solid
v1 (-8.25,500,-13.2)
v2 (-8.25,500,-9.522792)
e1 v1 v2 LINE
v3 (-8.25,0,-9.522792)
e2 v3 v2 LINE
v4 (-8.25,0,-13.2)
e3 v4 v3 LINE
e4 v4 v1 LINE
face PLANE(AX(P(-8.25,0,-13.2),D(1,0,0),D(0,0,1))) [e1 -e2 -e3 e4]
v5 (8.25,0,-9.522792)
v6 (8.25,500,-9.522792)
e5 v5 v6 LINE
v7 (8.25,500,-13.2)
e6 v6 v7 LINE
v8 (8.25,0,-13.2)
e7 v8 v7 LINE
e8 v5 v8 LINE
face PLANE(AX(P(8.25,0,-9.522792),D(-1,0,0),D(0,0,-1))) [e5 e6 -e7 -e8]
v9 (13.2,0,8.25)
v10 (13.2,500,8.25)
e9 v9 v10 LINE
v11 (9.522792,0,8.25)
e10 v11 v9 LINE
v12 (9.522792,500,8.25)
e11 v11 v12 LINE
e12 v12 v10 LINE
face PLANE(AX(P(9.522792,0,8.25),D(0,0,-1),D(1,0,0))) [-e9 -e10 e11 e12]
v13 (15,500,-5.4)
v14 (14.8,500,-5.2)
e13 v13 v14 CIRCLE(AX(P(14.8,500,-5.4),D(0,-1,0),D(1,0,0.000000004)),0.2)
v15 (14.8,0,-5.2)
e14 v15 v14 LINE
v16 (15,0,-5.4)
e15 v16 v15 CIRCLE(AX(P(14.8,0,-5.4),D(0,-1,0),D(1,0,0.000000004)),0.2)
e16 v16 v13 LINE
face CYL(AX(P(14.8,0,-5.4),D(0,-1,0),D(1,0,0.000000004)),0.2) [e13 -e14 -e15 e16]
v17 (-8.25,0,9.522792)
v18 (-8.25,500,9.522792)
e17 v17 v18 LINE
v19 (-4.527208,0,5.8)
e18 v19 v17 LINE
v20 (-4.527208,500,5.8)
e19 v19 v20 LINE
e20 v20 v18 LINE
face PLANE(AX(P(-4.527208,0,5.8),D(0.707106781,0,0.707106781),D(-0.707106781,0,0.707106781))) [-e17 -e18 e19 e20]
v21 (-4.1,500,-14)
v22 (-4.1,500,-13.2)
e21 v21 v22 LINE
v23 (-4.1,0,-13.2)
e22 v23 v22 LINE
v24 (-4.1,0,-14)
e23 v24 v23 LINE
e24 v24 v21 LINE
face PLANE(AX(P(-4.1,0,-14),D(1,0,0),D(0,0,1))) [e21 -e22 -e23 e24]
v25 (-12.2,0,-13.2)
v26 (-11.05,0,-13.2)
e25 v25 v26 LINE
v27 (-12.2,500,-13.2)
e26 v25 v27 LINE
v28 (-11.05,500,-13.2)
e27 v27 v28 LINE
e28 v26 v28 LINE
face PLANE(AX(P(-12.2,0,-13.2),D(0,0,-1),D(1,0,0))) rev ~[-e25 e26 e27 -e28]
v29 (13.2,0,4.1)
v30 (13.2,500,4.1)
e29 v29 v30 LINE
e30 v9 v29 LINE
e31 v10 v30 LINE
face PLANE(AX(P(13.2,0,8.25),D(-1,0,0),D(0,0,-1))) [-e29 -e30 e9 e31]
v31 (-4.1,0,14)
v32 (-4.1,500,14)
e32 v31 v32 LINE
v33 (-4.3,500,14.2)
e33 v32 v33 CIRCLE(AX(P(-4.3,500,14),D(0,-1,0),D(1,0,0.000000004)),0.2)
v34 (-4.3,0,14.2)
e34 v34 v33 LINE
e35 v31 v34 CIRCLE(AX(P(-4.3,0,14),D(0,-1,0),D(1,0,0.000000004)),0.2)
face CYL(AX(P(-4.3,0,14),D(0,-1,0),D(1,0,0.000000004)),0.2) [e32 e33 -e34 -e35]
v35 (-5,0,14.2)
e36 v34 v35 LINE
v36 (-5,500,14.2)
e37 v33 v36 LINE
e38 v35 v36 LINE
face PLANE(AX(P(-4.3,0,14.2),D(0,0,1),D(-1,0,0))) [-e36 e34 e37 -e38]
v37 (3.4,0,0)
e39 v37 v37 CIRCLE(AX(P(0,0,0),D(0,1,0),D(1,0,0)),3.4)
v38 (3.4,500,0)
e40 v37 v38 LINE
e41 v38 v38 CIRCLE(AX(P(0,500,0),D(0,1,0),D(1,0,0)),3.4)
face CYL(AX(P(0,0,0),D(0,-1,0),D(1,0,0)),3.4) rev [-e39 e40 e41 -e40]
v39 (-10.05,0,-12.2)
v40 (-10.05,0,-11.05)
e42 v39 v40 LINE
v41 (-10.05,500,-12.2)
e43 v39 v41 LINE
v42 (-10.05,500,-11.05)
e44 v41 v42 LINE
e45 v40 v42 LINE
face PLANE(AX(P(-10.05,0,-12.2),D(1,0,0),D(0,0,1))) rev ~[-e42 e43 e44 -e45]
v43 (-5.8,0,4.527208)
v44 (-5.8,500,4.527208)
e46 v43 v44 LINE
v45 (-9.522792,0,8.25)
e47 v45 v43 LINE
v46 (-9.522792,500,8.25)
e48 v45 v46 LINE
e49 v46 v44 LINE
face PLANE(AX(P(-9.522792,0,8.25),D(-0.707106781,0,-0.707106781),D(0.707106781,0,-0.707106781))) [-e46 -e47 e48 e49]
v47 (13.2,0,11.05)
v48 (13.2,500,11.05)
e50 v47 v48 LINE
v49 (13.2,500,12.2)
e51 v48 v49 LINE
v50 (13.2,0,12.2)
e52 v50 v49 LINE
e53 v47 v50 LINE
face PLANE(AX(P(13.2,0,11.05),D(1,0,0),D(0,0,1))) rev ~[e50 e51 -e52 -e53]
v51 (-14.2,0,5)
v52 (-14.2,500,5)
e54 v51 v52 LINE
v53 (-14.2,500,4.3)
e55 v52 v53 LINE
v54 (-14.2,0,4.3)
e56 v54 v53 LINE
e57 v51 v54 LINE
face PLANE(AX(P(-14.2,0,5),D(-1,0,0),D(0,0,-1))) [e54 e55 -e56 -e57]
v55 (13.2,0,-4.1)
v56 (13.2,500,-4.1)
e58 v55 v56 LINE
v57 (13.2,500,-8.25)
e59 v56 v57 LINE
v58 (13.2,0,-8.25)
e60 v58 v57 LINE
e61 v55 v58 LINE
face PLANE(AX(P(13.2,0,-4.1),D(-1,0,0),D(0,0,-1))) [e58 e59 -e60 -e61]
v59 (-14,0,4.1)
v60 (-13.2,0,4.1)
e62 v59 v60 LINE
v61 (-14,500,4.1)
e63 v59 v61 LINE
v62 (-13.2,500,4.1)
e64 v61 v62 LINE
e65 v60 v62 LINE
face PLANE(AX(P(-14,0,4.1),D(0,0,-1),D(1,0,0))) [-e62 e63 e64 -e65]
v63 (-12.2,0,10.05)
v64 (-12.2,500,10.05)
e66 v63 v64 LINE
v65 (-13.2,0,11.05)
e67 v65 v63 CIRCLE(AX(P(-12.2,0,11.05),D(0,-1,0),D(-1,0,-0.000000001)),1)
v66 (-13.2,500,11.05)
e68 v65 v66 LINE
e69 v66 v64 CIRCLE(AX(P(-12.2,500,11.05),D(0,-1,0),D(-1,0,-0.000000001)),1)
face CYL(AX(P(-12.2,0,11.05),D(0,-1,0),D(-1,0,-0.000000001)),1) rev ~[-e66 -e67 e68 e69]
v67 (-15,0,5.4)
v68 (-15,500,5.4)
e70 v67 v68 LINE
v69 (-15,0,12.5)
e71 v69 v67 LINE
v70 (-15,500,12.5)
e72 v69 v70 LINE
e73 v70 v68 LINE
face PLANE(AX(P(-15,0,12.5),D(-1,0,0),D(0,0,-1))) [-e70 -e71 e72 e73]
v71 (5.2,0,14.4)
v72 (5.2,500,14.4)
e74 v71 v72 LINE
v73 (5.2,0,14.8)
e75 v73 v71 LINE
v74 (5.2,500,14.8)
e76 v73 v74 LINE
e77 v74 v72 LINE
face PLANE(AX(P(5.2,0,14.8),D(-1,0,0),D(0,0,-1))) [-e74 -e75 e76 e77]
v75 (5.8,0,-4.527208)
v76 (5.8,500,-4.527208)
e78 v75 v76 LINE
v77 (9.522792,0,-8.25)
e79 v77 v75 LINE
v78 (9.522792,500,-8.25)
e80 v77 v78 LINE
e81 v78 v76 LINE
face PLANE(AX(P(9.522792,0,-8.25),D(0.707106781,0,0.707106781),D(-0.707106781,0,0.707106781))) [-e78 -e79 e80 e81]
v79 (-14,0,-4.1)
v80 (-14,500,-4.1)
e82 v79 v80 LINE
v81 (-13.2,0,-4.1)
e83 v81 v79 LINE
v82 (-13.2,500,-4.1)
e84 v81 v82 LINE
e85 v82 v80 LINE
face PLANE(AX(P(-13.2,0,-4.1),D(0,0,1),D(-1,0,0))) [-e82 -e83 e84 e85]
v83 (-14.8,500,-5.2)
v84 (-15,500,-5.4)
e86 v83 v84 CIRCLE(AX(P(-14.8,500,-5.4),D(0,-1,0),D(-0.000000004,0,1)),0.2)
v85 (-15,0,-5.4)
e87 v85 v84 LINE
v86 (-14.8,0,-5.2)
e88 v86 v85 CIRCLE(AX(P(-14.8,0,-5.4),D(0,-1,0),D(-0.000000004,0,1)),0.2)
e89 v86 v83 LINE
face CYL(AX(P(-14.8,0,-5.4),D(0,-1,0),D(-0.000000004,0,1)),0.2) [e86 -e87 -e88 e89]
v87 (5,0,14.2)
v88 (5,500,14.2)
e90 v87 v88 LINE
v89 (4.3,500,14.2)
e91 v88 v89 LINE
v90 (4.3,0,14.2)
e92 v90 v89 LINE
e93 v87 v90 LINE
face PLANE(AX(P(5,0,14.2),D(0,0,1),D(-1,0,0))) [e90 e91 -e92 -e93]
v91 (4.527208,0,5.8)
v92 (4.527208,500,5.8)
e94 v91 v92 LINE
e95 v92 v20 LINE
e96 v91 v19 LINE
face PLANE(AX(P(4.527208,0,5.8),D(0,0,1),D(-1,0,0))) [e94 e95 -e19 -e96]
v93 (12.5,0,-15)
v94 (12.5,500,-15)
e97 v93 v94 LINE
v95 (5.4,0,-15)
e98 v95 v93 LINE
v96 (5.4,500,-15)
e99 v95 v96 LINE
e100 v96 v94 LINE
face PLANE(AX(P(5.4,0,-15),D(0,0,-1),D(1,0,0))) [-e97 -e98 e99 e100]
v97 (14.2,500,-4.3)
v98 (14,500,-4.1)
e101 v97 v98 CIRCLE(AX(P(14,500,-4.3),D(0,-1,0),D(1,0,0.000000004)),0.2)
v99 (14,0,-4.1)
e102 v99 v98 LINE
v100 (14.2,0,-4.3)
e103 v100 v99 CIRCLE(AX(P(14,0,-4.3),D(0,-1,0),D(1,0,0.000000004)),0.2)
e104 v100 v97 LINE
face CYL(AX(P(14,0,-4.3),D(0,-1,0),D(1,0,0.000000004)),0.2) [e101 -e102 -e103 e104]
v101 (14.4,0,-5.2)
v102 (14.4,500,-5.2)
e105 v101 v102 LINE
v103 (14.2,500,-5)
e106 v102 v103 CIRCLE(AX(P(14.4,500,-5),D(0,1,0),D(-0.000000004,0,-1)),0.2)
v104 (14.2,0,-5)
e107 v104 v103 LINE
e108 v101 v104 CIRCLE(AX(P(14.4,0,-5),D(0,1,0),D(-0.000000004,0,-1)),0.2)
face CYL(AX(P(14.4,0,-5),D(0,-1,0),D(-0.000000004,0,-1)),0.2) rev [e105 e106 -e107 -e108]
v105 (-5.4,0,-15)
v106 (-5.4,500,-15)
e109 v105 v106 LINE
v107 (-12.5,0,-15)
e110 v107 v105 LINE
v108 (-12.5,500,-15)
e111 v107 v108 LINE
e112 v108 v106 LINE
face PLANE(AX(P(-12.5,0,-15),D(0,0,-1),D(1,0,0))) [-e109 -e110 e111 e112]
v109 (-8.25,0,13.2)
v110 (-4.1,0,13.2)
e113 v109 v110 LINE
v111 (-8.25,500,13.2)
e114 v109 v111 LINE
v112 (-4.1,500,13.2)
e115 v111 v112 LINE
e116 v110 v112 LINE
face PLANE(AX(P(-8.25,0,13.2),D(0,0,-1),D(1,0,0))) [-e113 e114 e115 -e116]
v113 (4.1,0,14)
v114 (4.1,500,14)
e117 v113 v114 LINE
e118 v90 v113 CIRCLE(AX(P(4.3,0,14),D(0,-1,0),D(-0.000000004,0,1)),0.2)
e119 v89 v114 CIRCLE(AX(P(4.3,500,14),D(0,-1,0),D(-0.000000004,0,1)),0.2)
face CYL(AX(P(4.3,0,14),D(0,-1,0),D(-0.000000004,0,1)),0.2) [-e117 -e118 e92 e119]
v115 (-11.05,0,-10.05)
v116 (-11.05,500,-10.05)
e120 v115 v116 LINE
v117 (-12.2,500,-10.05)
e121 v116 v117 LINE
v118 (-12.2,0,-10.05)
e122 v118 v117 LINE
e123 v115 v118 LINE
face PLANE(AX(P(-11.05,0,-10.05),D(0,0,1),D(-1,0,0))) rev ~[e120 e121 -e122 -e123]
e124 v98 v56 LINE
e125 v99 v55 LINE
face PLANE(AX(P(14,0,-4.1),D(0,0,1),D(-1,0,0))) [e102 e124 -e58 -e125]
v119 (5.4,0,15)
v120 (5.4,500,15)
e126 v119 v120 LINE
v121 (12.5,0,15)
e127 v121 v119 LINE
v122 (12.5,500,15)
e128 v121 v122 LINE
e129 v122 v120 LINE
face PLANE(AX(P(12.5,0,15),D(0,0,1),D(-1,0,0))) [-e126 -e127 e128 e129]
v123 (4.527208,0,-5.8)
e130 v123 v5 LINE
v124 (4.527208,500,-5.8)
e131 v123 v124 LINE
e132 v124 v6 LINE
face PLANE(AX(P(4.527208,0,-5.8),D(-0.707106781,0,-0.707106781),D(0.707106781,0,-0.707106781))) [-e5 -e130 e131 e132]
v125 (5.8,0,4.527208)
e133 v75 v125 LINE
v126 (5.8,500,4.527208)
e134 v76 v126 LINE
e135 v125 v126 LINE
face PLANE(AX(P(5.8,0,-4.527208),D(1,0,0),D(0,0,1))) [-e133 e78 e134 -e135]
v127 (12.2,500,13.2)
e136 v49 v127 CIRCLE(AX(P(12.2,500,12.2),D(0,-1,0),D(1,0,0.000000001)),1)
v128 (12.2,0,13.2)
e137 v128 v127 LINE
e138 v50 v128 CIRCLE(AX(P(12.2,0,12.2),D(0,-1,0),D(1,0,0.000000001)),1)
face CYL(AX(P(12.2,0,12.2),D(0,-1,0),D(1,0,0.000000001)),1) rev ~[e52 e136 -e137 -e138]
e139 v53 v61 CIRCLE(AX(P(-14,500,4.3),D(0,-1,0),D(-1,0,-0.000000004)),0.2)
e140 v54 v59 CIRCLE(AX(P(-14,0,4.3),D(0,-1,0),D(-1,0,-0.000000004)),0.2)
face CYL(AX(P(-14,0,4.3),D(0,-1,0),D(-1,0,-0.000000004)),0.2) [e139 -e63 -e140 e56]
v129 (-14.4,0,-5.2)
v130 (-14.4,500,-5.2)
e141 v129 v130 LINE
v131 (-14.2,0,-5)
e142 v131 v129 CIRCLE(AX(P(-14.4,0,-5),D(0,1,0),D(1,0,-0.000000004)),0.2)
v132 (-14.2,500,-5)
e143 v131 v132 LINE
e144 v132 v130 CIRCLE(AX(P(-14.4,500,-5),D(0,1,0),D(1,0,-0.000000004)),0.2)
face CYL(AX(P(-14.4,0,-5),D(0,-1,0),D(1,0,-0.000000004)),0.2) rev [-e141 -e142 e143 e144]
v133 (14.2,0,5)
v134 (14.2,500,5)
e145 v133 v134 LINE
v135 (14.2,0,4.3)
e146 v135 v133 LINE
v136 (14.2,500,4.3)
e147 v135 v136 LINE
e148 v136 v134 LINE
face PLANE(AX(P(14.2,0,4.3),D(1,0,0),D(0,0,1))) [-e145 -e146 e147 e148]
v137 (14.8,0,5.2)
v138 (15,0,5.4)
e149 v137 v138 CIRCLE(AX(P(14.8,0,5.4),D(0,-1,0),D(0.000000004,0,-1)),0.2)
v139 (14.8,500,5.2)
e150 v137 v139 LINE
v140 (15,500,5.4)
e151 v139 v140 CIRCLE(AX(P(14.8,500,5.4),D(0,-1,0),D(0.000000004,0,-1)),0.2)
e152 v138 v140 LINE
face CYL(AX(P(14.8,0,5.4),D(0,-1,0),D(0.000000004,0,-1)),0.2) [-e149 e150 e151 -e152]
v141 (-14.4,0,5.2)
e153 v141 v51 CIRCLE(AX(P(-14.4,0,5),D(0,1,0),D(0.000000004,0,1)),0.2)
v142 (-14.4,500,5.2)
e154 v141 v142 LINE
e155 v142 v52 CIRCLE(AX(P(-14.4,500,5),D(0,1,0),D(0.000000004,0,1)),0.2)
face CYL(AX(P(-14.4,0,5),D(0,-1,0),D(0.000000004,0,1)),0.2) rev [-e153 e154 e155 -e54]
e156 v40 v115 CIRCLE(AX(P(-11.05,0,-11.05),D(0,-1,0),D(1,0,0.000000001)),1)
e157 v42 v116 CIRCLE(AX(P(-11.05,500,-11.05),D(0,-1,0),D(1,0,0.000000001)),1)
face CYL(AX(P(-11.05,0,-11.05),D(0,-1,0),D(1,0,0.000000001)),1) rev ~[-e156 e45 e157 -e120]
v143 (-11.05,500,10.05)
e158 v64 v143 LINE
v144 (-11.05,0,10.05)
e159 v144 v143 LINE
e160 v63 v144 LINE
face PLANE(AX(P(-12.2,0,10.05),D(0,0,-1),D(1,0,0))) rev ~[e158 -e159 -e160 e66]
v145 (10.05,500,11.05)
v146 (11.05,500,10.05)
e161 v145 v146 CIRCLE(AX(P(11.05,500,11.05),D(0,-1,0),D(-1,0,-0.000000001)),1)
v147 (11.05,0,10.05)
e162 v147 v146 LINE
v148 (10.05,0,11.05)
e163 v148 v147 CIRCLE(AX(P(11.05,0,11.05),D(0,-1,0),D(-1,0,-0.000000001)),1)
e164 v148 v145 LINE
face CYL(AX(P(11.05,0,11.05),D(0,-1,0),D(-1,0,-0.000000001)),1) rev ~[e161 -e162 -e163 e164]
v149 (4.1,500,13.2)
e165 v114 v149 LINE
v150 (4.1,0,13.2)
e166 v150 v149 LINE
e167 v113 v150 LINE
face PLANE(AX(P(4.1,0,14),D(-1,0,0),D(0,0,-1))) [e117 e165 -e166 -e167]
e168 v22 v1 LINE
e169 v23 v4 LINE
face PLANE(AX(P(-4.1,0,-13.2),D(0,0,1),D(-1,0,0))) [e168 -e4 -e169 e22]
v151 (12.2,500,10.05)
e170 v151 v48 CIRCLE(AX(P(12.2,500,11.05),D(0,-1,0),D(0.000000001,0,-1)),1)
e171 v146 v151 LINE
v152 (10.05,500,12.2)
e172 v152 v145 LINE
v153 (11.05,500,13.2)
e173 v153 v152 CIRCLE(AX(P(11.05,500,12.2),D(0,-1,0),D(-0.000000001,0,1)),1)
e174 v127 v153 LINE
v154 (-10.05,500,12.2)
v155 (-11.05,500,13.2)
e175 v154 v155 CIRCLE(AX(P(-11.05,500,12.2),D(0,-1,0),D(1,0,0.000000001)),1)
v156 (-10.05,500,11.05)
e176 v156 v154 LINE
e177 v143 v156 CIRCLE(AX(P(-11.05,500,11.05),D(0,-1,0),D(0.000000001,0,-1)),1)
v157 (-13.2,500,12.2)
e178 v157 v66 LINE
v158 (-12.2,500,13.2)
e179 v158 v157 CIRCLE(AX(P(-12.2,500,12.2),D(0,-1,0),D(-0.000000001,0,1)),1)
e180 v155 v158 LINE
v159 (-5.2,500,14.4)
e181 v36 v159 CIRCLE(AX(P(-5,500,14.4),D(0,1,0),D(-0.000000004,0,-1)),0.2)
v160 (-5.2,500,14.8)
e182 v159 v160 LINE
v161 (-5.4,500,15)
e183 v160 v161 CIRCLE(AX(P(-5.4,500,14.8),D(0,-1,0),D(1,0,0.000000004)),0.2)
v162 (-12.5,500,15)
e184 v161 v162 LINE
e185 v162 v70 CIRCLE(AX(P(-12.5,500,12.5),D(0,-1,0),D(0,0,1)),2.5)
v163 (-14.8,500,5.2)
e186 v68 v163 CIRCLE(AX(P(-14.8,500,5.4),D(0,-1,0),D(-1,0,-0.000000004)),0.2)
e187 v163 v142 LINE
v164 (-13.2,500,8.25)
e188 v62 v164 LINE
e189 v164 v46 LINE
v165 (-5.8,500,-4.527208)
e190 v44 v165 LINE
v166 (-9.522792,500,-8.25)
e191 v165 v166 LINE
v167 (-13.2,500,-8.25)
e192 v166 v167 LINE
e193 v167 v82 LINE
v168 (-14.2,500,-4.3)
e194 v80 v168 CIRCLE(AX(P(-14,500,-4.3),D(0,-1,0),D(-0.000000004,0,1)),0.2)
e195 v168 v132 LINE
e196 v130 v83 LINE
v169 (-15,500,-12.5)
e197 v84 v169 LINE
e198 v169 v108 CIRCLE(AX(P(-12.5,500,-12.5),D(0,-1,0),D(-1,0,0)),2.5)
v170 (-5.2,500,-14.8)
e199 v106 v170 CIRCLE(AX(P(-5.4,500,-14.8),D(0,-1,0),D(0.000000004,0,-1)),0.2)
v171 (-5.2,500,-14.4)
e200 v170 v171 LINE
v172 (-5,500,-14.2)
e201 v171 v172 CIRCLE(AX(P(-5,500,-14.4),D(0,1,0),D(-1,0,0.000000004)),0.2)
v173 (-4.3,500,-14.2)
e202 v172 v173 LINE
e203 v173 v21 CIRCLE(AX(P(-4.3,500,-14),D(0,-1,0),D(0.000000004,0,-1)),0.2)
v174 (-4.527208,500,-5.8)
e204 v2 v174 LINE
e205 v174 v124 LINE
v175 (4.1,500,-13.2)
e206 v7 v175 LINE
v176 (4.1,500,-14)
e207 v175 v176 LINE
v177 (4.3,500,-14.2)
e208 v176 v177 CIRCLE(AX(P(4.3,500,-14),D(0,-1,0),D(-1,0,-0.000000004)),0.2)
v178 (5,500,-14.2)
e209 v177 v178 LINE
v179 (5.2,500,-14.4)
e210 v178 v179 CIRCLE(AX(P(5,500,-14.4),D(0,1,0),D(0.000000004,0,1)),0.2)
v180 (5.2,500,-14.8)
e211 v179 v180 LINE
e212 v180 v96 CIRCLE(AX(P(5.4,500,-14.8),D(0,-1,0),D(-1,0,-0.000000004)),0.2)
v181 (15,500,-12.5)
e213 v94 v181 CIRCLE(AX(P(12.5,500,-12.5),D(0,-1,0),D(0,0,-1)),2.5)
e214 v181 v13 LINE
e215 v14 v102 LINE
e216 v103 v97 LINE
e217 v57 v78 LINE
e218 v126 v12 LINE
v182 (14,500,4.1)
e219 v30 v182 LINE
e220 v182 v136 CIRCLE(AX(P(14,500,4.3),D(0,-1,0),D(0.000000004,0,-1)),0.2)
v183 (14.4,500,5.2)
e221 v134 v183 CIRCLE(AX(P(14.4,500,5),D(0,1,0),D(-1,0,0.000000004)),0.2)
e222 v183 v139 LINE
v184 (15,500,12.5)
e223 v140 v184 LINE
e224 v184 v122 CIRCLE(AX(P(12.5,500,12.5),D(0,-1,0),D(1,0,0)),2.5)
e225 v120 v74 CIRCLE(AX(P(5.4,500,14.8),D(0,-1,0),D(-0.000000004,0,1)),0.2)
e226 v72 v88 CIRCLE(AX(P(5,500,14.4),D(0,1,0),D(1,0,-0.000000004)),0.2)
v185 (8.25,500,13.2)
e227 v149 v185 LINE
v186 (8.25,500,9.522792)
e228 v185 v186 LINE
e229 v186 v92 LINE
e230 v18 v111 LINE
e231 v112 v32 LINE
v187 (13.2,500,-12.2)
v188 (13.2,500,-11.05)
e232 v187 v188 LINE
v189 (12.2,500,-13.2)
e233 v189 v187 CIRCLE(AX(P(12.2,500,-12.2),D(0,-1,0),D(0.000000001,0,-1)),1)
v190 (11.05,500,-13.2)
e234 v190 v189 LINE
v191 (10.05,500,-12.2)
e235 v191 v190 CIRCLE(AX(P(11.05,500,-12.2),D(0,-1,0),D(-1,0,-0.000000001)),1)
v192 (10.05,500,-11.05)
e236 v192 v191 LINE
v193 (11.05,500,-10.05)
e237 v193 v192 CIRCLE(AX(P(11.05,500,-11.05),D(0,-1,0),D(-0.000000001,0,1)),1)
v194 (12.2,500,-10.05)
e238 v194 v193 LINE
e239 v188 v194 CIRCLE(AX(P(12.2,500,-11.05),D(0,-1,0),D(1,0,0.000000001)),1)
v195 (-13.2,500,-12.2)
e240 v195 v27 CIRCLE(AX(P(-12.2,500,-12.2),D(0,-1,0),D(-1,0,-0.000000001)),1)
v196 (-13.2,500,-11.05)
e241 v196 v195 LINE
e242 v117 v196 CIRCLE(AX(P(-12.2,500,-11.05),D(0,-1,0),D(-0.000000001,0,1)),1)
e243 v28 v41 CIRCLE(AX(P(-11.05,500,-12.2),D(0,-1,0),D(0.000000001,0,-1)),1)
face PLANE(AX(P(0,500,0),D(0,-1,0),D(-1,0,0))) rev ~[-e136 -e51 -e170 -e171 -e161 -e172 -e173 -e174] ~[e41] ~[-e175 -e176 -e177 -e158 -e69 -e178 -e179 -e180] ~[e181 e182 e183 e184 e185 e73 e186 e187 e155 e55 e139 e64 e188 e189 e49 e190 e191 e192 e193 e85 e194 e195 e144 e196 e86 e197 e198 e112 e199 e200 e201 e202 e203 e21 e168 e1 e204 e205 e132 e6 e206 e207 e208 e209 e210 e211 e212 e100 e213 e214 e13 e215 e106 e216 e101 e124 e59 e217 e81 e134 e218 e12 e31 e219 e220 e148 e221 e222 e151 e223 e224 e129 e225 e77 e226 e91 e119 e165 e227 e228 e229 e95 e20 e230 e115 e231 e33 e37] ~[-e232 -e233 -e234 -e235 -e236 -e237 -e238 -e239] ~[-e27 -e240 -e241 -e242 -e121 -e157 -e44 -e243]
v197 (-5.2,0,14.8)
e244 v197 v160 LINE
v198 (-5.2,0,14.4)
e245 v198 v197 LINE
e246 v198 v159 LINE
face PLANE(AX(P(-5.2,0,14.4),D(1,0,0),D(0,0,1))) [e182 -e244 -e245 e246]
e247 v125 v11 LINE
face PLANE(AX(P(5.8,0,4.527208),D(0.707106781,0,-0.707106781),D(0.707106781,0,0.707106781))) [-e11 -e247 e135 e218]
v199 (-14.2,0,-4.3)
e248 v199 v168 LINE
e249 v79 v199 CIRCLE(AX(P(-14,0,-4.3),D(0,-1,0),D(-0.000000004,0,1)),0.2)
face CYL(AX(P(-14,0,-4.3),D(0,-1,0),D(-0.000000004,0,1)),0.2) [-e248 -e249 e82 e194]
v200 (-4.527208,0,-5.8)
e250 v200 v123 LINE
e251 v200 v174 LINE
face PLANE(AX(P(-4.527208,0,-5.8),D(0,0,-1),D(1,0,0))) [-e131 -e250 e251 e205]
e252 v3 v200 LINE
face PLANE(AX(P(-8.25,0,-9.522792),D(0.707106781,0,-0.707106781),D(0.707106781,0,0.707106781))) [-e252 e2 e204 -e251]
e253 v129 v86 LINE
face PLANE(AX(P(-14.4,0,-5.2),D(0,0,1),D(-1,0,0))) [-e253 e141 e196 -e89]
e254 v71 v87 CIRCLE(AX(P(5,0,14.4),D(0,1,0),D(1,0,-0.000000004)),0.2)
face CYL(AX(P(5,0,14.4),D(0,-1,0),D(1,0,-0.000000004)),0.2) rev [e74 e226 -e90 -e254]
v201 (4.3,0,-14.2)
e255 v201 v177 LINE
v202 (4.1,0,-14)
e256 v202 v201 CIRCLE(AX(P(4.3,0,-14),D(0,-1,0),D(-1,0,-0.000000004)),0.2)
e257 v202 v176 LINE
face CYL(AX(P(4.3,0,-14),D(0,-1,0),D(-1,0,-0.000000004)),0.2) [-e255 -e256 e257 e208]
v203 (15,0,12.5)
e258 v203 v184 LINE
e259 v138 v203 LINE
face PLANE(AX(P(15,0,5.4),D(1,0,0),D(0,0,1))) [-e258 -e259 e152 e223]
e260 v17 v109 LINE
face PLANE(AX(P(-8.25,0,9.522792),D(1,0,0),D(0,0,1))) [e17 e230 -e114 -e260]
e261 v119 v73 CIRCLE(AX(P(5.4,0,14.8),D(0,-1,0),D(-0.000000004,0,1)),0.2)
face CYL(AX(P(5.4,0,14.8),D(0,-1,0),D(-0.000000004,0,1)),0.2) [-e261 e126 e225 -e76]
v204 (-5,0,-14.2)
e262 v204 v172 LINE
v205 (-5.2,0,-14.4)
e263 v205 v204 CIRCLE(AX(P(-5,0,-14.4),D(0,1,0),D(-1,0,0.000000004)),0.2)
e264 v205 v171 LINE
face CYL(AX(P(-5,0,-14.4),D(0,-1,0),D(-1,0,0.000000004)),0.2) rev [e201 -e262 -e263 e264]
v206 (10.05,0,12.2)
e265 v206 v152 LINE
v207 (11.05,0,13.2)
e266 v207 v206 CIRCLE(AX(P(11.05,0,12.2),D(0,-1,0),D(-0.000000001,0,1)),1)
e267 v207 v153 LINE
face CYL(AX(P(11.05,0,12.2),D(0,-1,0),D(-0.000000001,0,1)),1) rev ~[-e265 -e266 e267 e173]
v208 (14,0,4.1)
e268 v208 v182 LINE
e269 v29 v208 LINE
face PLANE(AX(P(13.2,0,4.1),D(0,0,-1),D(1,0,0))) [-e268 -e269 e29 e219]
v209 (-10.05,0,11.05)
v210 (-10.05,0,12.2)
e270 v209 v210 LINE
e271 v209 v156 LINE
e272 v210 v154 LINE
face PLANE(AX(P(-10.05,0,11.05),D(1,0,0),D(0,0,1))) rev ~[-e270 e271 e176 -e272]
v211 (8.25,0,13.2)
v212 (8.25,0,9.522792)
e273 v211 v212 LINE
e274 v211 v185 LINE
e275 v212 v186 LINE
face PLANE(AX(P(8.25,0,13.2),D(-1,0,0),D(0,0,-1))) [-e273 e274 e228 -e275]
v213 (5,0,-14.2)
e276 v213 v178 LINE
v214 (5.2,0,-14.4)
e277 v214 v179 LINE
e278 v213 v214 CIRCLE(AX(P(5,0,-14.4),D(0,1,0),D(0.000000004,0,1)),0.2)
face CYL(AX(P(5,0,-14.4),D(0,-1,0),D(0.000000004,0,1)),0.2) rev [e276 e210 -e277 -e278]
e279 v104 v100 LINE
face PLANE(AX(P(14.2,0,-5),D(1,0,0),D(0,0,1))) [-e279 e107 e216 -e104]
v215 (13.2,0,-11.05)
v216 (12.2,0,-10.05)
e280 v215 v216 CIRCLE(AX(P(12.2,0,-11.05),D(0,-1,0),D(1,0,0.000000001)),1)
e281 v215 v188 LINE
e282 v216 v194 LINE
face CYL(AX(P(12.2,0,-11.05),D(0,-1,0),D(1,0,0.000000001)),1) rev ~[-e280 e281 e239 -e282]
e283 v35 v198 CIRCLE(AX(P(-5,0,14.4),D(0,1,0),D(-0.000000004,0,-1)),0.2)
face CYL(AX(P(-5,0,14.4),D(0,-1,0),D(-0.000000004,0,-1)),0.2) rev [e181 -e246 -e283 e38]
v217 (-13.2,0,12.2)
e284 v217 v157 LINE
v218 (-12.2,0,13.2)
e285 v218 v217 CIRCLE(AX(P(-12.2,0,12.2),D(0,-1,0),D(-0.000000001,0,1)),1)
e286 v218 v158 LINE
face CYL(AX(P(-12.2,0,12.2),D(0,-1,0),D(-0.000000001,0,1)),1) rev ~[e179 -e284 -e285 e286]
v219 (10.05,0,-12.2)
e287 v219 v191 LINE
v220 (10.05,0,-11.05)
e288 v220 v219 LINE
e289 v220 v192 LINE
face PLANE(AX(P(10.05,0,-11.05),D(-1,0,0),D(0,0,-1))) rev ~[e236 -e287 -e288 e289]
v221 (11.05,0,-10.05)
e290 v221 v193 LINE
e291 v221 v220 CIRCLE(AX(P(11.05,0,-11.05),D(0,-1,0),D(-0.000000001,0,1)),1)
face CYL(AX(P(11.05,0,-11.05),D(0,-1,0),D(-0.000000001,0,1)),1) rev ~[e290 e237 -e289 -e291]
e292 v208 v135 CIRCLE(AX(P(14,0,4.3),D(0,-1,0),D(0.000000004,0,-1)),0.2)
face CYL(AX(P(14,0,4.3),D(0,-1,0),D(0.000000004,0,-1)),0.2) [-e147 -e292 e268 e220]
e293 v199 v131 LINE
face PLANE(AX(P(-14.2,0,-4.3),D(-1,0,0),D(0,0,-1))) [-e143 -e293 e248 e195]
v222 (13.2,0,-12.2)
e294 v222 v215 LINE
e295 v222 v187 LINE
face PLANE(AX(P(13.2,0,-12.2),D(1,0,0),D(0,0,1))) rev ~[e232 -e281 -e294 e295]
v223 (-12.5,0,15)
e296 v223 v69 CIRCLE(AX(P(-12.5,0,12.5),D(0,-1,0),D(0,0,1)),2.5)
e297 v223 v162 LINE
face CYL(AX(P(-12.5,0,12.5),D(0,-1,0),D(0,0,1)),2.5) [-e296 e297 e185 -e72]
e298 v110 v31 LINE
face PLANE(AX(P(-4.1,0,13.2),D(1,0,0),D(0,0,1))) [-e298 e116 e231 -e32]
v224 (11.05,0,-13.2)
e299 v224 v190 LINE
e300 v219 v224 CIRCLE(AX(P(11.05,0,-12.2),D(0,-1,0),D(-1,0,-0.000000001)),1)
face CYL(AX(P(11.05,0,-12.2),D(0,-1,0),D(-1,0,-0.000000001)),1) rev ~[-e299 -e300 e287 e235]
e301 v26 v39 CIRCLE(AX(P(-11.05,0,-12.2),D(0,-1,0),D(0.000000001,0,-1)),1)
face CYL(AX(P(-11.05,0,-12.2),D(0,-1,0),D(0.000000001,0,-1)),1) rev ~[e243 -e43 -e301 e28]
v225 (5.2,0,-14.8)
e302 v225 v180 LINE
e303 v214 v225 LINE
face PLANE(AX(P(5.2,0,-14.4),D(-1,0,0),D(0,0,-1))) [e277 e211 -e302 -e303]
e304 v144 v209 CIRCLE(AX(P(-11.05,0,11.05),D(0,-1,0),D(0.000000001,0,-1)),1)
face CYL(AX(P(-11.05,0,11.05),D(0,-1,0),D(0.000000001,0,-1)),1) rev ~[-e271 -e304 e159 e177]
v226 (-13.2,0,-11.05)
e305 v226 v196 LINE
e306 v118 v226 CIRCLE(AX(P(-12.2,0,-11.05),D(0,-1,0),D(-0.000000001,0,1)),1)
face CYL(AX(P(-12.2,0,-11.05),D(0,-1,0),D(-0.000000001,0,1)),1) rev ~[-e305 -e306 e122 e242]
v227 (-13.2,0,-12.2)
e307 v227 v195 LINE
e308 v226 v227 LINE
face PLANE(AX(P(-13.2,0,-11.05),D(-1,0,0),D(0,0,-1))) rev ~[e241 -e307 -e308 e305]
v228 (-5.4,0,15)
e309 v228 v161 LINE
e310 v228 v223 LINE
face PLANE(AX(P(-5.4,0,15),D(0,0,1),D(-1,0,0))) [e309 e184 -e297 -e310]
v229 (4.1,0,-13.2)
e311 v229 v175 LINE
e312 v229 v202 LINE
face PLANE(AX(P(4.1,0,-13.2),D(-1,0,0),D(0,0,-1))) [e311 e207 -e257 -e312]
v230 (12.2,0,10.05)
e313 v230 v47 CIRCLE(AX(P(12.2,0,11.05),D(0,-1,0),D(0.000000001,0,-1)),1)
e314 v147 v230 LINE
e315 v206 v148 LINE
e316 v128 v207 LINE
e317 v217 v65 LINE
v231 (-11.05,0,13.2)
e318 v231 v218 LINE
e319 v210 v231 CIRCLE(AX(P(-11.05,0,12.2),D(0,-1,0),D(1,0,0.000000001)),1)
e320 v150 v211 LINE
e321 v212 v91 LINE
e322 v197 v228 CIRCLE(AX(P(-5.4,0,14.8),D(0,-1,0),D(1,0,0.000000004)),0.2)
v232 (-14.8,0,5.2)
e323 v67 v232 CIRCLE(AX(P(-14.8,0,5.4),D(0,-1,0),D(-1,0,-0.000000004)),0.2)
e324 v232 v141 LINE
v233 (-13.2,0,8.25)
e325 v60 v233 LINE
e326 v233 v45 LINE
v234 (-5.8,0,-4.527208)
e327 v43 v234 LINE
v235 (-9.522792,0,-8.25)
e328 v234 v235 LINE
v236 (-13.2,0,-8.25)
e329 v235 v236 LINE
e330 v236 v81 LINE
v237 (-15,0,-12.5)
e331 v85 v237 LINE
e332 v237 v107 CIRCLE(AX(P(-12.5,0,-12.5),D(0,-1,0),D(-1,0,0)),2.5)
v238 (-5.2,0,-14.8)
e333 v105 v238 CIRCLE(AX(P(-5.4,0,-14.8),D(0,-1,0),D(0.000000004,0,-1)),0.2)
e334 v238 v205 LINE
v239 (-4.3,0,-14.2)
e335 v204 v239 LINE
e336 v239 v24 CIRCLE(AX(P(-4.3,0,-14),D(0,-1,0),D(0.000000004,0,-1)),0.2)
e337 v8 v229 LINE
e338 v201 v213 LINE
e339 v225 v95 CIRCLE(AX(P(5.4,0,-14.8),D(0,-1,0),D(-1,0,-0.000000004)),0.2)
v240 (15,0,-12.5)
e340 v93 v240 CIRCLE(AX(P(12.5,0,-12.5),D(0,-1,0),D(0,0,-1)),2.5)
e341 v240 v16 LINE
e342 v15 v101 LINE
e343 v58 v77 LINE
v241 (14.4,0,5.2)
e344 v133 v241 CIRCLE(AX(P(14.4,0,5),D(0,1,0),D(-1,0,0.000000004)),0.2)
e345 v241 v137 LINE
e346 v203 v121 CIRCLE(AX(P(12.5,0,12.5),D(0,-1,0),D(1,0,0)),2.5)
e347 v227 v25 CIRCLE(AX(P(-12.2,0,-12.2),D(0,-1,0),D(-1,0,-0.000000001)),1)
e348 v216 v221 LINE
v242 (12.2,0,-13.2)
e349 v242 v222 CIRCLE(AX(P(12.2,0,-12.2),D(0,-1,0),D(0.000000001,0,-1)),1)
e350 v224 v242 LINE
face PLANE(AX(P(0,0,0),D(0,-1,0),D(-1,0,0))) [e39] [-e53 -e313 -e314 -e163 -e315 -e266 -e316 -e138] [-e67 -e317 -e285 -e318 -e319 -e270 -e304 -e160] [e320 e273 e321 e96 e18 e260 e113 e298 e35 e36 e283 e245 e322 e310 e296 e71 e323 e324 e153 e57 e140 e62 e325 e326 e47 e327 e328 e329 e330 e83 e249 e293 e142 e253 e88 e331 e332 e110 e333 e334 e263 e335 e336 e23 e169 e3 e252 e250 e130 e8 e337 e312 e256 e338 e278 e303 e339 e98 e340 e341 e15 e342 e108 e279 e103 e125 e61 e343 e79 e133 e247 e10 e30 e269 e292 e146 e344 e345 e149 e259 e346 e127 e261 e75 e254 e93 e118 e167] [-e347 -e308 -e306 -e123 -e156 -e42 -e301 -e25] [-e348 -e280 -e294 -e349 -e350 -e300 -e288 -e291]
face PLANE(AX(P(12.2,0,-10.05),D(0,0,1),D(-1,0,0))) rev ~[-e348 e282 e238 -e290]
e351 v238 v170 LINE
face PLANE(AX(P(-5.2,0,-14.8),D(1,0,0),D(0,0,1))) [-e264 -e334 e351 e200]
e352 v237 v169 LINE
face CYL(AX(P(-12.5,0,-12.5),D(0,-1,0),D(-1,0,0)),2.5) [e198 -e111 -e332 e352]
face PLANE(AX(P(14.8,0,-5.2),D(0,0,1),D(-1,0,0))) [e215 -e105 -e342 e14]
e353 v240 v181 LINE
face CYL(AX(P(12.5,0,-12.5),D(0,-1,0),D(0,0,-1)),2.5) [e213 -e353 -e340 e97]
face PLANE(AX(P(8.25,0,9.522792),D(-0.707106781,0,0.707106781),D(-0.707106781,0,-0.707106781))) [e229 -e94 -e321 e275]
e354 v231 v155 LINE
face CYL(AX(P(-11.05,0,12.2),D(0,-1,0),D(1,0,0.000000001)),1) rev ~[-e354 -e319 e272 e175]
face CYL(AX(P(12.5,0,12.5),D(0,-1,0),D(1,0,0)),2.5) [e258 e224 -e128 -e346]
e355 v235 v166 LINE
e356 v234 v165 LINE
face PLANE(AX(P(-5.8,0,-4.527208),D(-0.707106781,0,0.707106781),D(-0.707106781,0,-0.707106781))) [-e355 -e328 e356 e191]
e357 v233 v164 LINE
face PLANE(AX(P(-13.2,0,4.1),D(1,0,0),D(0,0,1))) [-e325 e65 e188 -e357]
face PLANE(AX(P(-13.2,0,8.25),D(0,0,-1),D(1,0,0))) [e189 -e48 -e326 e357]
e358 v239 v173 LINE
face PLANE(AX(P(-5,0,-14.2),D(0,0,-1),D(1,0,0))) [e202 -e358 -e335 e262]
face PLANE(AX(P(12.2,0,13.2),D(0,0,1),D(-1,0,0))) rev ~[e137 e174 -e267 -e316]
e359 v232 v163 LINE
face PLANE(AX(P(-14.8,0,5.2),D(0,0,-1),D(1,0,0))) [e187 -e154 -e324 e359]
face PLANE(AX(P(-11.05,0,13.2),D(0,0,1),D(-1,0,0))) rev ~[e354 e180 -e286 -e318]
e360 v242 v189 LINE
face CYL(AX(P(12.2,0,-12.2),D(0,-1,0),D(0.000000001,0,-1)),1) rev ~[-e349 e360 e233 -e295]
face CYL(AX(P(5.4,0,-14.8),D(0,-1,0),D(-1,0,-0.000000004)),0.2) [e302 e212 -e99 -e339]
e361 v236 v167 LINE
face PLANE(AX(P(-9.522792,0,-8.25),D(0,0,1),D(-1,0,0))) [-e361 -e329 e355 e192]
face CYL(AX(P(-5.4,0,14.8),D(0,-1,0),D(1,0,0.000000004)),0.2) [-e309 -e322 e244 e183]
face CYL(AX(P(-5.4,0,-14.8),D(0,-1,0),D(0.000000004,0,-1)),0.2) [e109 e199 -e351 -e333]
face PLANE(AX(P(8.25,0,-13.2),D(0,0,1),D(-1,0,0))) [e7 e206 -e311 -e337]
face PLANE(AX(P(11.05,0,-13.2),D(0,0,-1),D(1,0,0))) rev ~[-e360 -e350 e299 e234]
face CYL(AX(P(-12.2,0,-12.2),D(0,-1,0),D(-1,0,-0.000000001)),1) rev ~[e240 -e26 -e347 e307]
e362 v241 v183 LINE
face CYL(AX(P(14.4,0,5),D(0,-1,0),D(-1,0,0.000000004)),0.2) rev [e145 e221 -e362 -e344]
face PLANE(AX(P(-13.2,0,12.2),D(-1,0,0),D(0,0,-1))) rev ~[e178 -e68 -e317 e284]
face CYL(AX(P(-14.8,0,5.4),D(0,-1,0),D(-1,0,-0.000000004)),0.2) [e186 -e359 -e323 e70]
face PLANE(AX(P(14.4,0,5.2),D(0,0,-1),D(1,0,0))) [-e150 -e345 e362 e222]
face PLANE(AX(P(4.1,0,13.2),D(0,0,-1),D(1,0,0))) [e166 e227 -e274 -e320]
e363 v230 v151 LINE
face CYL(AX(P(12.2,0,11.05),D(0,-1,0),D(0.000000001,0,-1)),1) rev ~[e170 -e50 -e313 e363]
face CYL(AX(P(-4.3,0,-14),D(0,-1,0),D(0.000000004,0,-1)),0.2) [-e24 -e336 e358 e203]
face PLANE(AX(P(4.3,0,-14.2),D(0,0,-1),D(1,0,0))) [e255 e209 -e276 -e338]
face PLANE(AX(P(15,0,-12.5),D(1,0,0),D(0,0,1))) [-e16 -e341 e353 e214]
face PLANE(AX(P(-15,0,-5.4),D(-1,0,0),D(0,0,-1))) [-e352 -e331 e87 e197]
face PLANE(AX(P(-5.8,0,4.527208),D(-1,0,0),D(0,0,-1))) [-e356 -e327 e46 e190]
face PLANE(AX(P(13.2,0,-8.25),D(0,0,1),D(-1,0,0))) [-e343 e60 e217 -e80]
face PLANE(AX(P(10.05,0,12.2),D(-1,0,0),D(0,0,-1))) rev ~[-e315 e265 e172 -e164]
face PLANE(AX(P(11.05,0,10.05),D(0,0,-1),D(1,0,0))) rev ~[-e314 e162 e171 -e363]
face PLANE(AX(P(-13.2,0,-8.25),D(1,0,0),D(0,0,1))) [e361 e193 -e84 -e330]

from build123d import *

# Parameters (mm, degrees)
SKETCH_3_R      = 3.4
EXTRUDE_1_DEPTH = 500


with BuildPart() as part:
    # 草图3 → 凸台-拉伸1 (new body)
    with BuildSketch(Plane(origin=(0, 0, 0), x_dir=(1, 0, 0), z_dir=(0, 1, 0))):
        with BuildLine():
            Line((-15, -12.5), (-15, -5.4))
            ThreePointArc((-15, -5.4), (-14.941421356, -5.258578644), (-14.8, -5.2))
            Line((-14.8, -5.2), (-14.4, -5.2))
            ThreePointArc((-14.4, -5.2), (-14.258578644, -5.141421356), (-14.2, -5))
            Line((-14.2, -5), (-14.2, -4.3))
            ThreePointArc((-14.2, -4.3), (-14.141421356, -4.158578644), (-14, -4.1))
            Line((-14, -4.1), (-13.2, -4.1))
            Line((-13.2, -4.1), (-13.2, -8.25))
            Line((-13.2, -8.25), (-9.522792206, -8.25))
            Line((-9.522792206, -8.25), (-5.8, -4.527207794))
            Line((-5.8, -4.527207794), (-5.8, 4.527207794))
            Line((-5.8, 4.527207794), (-9.522792206, 8.25))
            Line((-9.522792206, 8.25), (-13.2, 8.25))
            Line((-13.2, 8.25), (-13.2, 4.1))
            Line((-13.2, 4.1), (-14, 4.1))
            ThreePointArc((-14, 4.1), (-14.141421356, 4.158578644), (-14.2, 4.3))
            Line((-14.2, 4.3), (-14.2, 5))
            ThreePointArc((-14.2, 5), (-14.258578644, 5.141421356), (-14.4, 5.2))
            Line((-14.4, 5.2), (-14.8, 5.2))
            ThreePointArc((-14.8, 5.2), (-14.941421356, 5.258578644), (-15, 5.4))
            Line((-15, 5.4), (-15, 12.5))
            ThreePointArc((-15, 12.5), (-14.267766953, 14.267766953), (-12.5, 15))
            Line((-12.5, 15), (-5.4, 15))
            ThreePointArc((-5.4, 15), (-5.258578644, 14.941421356), (-5.2, 14.8))
            Line((-5.2, 14.8), (-5.2, 14.4))
            ThreePointArc((-5.2, 14.4), (-5.141421356, 14.258578644), (-5, 14.2))
            Line((-5, 14.2), (-4.3, 14.2))
            ThreePointArc((-4.3, 14.2), (-4.158578644, 14.141421356), (-4.1, 14))
            Line((-4.1, 14), (-4.1, 13.2))
            Line((-4.1, 13.2), (-8.25, 13.2))
            Line((-8.25, 13.2), (-8.25, 9.522792206))
            Line((-8.25, 9.522792206), (-4.527207794, 5.8))
            Line((-4.527207794, 5.8), (4.527207794, 5.8))
            Line((4.527207794, 5.8), (8.25, 9.522792206))
            Line((8.25, 9.522792206), (8.25, 13.2))
            Line((8.25, 13.2), (4.1, 13.2))
            Line((4.1, 13.2), (4.1, 14))
            ThreePointArc((4.1, 14), (4.158578644, 14.141421356), (4.3, 14.2))
            Line((4.3, 14.2), (5, 14.2))
            ThreePointArc((5, 14.2), (5.141421356, 14.258578644), (5.2, 14.4))
            Line((5.2, 14.4), (5.2, 14.8))
            ThreePointArc((5.2, 14.8), (5.258578644, 14.941421356), (5.4, 15))
            Line((5.4, 15), (12.5, 15))
            ThreePointArc((12.5, 15), (14.267766953, 14.267766953), (15, 12.5))
            Line((15, 12.5), (15, 5.4))
            ThreePointArc((15, 5.4), (14.941421356, 5.258578644), (14.8, 5.2))
            Line((14.8, 5.2), (14.4, 5.2))
            ThreePointArc((14.4, 5.2), (14.258578644, 5.141421356), (14.2, 5))
            Line((14.2, 5), (14.2, 4.3))
            ThreePointArc((14.2, 4.3), (14.141421356, 4.158578644), (14, 4.1))
            Line((14, 4.1), (13.2, 4.1))
            Line((13.2, 4.1), (13.2, 8.25))
            Line((13.2, 8.25), (9.522792206, 8.25))
            Line((9.522792206, 8.25), (5.8, 4.527207794))
            Line((5.8, 4.527207794), (5.8, -4.527207794))
            Line((5.8, -4.527207794), (9.522792206, -8.25))
            Line((9.522792206, -8.25), (13.2, -8.25))
            Line((13.2, -8.25), (13.2, -4.1))
            Line((13.2, -4.1), (14, -4.1))
            ThreePointArc((14, -4.1), (14.141421356, -4.158578644), (14.2, -4.3))
            Line((14.2, -4.3), (14.2, -5))
            ThreePointArc((14.2, -5), (14.258578644, -5.141421356), (14.4, -5.2))
            Line((14.4, -5.2), (14.8, -5.2))
            ThreePointArc((14.8, -5.2), (14.941421356, -5.258578644), (15, -5.4))
            Line((15, -5.4), (15, -12.5))
            ThreePointArc((15, -12.5), (14.267766953, -14.267766953), (12.5, -15))
            Line((12.5, -15), (5.4, -15))
            ThreePointArc((5.4, -15), (5.258578644, -14.941421356), (5.2, -14.8))
            Line((5.2, -14.8), (5.2, -14.4))
            ThreePointArc((5.2, -14.4), (5.141421356, -14.258578644), (5, -14.2))
            Line((5, -14.2), (4.3, -14.2))
            ThreePointArc((4.3, -14.2), (4.158578644, -14.141421356), (4.1, -14))
            Line((4.1, -14), (4.1, -13.2))
            Line((4.1, -13.2), (8.25, -13.2))
            Line((8.25, -13.2), (8.25, -9.522792206))
            Line((8.25, -9.522792206), (4.527207794, -5.8))
            Line((4.527207794, -5.8), (-4.527207794, -5.8))
            Line((-4.527207794, -5.8), (-8.25, -9.522792206))
            Line((-8.25, -9.522792206), (-8.25, -13.2))
            Line((-8.25, -13.2), (-4.1, -13.2))
            Line((-4.1, -13.2), (-4.1, -14))
            ThreePointArc((-4.1, -14), (-4.158578644, -14.141421356), (-4.3, -14.2))
            Line((-4.3, -14.2), (-5, -14.2))
            ThreePointArc((-5, -14.2), (-5.141421356, -14.258578644), (-5.2, -14.4))
            Line((-5.2, -14.4), (-5.2, -14.8))
            ThreePointArc((-5.2, -14.8), (-5.258578644, -14.941421356), (-5.4, -15))
            Line((-5.4, -15), (-12.5, -15))
            ThreePointArc((-12.5, -15), (-14.267766953, -14.267766953), (-15, -12.5))
        make_face()
        Circle(SKETCH_3_R, mode=Mode.SUBTRACT)
        with BuildLine():
            Line((-13.2, -12.2), (-13.2, -11.05))
            ThreePointArc((-13.2, -11.05), (-12.907106781, -10.342893219), (-12.2, -10.05))
            Line((-12.2, -10.05), (-11.05, -10.05))
            ThreePointArc((-11.05, -10.05), (-10.342893219, -10.342893219), (-10.05, -11.05))
            Line((-10.05, -11.05), (-10.05, -12.2))
            ThreePointArc((-10.05, -12.2), (-10.342893219, -12.907106781), (-11.05, -13.2))
            Line((-11.05, -13.2), (-12.2, -13.2))
            ThreePointArc((-12.2, -13.2), (-12.907106781, -12.907106781), (-13.2, -12.2))
        make_face(mode=Mode.SUBTRACT)
        with BuildLine():
            Line((-10.05, 12.2), (-10.05, 11.05))
            ThreePointArc((-10.05, 11.05), (-10.342893219, 10.342893219), (-11.05, 10.05))
            Line((-11.05, 10.05), (-12.2, 10.05))
            ThreePointArc((-12.2, 10.05), (-12.907106781, 10.342893219), (-13.2, 11.05))
            Line((-13.2, 11.05), (-13.2, 12.2))
            ThreePointArc((-13.2, 12.2), (-12.907106781, 12.907106781), (-12.2, 13.2))
            Line((-12.2, 13.2), (-11.05, 13.2))
            ThreePointArc((-11.05, 13.2), (-10.342893219, 12.907106781), (-10.05, 12.2))
        make_face(mode=Mode.SUBTRACT)
        with BuildLine():
            Line((13.2, 12.2), (13.2, 11.05))
            ThreePointArc((13.2, 11.05), (12.907106781, 10.342893219), (12.2, 10.05))
            Line((12.2, 10.05), (11.05, 10.05))
            ThreePointArc((11.05, 10.05), (10.342893219, 10.342893219), (10.05, 11.05))
            Line((10.05, 11.05), (10.05, 12.2))
            ThreePointArc((10.05, 12.2), (10.342893219, 12.907106781), (11.05, 13.2))
            Line((11.05, 13.2), (12.2, 13.2))
            ThreePointArc((12.2, 13.2), (12.907106781, 12.907106781), (13.2, 12.2))
        make_face(mode=Mode.SUBTRACT)
        with BuildLine():
            Line((10.05, -12.2), (10.05, -11.05))
            ThreePointArc((10.05, -11.05), (10.342893219, -10.342893219), (11.05, -10.05))
            Line((11.05, -10.05), (12.2, -10.05))
            ThreePointArc((12.2, -10.05), (12.907106781, -10.342893219), (13.2, -11.05))
            Line((13.2, -11.05), (13.2, -12.2))
            ThreePointArc((13.2, -12.2), (12.907106781, -12.907106781), (12.2, -13.2))
            Line((12.2, -13.2), (11.05, -13.2))
            ThreePointArc((11.05, -13.2), (10.342893219, -12.907106781), (10.05, -12.2))
        make_face(mode=Mode.SUBTRACT)
    extrude(amount=EXTRUDE_1_DEPTH)


solid = part.part
